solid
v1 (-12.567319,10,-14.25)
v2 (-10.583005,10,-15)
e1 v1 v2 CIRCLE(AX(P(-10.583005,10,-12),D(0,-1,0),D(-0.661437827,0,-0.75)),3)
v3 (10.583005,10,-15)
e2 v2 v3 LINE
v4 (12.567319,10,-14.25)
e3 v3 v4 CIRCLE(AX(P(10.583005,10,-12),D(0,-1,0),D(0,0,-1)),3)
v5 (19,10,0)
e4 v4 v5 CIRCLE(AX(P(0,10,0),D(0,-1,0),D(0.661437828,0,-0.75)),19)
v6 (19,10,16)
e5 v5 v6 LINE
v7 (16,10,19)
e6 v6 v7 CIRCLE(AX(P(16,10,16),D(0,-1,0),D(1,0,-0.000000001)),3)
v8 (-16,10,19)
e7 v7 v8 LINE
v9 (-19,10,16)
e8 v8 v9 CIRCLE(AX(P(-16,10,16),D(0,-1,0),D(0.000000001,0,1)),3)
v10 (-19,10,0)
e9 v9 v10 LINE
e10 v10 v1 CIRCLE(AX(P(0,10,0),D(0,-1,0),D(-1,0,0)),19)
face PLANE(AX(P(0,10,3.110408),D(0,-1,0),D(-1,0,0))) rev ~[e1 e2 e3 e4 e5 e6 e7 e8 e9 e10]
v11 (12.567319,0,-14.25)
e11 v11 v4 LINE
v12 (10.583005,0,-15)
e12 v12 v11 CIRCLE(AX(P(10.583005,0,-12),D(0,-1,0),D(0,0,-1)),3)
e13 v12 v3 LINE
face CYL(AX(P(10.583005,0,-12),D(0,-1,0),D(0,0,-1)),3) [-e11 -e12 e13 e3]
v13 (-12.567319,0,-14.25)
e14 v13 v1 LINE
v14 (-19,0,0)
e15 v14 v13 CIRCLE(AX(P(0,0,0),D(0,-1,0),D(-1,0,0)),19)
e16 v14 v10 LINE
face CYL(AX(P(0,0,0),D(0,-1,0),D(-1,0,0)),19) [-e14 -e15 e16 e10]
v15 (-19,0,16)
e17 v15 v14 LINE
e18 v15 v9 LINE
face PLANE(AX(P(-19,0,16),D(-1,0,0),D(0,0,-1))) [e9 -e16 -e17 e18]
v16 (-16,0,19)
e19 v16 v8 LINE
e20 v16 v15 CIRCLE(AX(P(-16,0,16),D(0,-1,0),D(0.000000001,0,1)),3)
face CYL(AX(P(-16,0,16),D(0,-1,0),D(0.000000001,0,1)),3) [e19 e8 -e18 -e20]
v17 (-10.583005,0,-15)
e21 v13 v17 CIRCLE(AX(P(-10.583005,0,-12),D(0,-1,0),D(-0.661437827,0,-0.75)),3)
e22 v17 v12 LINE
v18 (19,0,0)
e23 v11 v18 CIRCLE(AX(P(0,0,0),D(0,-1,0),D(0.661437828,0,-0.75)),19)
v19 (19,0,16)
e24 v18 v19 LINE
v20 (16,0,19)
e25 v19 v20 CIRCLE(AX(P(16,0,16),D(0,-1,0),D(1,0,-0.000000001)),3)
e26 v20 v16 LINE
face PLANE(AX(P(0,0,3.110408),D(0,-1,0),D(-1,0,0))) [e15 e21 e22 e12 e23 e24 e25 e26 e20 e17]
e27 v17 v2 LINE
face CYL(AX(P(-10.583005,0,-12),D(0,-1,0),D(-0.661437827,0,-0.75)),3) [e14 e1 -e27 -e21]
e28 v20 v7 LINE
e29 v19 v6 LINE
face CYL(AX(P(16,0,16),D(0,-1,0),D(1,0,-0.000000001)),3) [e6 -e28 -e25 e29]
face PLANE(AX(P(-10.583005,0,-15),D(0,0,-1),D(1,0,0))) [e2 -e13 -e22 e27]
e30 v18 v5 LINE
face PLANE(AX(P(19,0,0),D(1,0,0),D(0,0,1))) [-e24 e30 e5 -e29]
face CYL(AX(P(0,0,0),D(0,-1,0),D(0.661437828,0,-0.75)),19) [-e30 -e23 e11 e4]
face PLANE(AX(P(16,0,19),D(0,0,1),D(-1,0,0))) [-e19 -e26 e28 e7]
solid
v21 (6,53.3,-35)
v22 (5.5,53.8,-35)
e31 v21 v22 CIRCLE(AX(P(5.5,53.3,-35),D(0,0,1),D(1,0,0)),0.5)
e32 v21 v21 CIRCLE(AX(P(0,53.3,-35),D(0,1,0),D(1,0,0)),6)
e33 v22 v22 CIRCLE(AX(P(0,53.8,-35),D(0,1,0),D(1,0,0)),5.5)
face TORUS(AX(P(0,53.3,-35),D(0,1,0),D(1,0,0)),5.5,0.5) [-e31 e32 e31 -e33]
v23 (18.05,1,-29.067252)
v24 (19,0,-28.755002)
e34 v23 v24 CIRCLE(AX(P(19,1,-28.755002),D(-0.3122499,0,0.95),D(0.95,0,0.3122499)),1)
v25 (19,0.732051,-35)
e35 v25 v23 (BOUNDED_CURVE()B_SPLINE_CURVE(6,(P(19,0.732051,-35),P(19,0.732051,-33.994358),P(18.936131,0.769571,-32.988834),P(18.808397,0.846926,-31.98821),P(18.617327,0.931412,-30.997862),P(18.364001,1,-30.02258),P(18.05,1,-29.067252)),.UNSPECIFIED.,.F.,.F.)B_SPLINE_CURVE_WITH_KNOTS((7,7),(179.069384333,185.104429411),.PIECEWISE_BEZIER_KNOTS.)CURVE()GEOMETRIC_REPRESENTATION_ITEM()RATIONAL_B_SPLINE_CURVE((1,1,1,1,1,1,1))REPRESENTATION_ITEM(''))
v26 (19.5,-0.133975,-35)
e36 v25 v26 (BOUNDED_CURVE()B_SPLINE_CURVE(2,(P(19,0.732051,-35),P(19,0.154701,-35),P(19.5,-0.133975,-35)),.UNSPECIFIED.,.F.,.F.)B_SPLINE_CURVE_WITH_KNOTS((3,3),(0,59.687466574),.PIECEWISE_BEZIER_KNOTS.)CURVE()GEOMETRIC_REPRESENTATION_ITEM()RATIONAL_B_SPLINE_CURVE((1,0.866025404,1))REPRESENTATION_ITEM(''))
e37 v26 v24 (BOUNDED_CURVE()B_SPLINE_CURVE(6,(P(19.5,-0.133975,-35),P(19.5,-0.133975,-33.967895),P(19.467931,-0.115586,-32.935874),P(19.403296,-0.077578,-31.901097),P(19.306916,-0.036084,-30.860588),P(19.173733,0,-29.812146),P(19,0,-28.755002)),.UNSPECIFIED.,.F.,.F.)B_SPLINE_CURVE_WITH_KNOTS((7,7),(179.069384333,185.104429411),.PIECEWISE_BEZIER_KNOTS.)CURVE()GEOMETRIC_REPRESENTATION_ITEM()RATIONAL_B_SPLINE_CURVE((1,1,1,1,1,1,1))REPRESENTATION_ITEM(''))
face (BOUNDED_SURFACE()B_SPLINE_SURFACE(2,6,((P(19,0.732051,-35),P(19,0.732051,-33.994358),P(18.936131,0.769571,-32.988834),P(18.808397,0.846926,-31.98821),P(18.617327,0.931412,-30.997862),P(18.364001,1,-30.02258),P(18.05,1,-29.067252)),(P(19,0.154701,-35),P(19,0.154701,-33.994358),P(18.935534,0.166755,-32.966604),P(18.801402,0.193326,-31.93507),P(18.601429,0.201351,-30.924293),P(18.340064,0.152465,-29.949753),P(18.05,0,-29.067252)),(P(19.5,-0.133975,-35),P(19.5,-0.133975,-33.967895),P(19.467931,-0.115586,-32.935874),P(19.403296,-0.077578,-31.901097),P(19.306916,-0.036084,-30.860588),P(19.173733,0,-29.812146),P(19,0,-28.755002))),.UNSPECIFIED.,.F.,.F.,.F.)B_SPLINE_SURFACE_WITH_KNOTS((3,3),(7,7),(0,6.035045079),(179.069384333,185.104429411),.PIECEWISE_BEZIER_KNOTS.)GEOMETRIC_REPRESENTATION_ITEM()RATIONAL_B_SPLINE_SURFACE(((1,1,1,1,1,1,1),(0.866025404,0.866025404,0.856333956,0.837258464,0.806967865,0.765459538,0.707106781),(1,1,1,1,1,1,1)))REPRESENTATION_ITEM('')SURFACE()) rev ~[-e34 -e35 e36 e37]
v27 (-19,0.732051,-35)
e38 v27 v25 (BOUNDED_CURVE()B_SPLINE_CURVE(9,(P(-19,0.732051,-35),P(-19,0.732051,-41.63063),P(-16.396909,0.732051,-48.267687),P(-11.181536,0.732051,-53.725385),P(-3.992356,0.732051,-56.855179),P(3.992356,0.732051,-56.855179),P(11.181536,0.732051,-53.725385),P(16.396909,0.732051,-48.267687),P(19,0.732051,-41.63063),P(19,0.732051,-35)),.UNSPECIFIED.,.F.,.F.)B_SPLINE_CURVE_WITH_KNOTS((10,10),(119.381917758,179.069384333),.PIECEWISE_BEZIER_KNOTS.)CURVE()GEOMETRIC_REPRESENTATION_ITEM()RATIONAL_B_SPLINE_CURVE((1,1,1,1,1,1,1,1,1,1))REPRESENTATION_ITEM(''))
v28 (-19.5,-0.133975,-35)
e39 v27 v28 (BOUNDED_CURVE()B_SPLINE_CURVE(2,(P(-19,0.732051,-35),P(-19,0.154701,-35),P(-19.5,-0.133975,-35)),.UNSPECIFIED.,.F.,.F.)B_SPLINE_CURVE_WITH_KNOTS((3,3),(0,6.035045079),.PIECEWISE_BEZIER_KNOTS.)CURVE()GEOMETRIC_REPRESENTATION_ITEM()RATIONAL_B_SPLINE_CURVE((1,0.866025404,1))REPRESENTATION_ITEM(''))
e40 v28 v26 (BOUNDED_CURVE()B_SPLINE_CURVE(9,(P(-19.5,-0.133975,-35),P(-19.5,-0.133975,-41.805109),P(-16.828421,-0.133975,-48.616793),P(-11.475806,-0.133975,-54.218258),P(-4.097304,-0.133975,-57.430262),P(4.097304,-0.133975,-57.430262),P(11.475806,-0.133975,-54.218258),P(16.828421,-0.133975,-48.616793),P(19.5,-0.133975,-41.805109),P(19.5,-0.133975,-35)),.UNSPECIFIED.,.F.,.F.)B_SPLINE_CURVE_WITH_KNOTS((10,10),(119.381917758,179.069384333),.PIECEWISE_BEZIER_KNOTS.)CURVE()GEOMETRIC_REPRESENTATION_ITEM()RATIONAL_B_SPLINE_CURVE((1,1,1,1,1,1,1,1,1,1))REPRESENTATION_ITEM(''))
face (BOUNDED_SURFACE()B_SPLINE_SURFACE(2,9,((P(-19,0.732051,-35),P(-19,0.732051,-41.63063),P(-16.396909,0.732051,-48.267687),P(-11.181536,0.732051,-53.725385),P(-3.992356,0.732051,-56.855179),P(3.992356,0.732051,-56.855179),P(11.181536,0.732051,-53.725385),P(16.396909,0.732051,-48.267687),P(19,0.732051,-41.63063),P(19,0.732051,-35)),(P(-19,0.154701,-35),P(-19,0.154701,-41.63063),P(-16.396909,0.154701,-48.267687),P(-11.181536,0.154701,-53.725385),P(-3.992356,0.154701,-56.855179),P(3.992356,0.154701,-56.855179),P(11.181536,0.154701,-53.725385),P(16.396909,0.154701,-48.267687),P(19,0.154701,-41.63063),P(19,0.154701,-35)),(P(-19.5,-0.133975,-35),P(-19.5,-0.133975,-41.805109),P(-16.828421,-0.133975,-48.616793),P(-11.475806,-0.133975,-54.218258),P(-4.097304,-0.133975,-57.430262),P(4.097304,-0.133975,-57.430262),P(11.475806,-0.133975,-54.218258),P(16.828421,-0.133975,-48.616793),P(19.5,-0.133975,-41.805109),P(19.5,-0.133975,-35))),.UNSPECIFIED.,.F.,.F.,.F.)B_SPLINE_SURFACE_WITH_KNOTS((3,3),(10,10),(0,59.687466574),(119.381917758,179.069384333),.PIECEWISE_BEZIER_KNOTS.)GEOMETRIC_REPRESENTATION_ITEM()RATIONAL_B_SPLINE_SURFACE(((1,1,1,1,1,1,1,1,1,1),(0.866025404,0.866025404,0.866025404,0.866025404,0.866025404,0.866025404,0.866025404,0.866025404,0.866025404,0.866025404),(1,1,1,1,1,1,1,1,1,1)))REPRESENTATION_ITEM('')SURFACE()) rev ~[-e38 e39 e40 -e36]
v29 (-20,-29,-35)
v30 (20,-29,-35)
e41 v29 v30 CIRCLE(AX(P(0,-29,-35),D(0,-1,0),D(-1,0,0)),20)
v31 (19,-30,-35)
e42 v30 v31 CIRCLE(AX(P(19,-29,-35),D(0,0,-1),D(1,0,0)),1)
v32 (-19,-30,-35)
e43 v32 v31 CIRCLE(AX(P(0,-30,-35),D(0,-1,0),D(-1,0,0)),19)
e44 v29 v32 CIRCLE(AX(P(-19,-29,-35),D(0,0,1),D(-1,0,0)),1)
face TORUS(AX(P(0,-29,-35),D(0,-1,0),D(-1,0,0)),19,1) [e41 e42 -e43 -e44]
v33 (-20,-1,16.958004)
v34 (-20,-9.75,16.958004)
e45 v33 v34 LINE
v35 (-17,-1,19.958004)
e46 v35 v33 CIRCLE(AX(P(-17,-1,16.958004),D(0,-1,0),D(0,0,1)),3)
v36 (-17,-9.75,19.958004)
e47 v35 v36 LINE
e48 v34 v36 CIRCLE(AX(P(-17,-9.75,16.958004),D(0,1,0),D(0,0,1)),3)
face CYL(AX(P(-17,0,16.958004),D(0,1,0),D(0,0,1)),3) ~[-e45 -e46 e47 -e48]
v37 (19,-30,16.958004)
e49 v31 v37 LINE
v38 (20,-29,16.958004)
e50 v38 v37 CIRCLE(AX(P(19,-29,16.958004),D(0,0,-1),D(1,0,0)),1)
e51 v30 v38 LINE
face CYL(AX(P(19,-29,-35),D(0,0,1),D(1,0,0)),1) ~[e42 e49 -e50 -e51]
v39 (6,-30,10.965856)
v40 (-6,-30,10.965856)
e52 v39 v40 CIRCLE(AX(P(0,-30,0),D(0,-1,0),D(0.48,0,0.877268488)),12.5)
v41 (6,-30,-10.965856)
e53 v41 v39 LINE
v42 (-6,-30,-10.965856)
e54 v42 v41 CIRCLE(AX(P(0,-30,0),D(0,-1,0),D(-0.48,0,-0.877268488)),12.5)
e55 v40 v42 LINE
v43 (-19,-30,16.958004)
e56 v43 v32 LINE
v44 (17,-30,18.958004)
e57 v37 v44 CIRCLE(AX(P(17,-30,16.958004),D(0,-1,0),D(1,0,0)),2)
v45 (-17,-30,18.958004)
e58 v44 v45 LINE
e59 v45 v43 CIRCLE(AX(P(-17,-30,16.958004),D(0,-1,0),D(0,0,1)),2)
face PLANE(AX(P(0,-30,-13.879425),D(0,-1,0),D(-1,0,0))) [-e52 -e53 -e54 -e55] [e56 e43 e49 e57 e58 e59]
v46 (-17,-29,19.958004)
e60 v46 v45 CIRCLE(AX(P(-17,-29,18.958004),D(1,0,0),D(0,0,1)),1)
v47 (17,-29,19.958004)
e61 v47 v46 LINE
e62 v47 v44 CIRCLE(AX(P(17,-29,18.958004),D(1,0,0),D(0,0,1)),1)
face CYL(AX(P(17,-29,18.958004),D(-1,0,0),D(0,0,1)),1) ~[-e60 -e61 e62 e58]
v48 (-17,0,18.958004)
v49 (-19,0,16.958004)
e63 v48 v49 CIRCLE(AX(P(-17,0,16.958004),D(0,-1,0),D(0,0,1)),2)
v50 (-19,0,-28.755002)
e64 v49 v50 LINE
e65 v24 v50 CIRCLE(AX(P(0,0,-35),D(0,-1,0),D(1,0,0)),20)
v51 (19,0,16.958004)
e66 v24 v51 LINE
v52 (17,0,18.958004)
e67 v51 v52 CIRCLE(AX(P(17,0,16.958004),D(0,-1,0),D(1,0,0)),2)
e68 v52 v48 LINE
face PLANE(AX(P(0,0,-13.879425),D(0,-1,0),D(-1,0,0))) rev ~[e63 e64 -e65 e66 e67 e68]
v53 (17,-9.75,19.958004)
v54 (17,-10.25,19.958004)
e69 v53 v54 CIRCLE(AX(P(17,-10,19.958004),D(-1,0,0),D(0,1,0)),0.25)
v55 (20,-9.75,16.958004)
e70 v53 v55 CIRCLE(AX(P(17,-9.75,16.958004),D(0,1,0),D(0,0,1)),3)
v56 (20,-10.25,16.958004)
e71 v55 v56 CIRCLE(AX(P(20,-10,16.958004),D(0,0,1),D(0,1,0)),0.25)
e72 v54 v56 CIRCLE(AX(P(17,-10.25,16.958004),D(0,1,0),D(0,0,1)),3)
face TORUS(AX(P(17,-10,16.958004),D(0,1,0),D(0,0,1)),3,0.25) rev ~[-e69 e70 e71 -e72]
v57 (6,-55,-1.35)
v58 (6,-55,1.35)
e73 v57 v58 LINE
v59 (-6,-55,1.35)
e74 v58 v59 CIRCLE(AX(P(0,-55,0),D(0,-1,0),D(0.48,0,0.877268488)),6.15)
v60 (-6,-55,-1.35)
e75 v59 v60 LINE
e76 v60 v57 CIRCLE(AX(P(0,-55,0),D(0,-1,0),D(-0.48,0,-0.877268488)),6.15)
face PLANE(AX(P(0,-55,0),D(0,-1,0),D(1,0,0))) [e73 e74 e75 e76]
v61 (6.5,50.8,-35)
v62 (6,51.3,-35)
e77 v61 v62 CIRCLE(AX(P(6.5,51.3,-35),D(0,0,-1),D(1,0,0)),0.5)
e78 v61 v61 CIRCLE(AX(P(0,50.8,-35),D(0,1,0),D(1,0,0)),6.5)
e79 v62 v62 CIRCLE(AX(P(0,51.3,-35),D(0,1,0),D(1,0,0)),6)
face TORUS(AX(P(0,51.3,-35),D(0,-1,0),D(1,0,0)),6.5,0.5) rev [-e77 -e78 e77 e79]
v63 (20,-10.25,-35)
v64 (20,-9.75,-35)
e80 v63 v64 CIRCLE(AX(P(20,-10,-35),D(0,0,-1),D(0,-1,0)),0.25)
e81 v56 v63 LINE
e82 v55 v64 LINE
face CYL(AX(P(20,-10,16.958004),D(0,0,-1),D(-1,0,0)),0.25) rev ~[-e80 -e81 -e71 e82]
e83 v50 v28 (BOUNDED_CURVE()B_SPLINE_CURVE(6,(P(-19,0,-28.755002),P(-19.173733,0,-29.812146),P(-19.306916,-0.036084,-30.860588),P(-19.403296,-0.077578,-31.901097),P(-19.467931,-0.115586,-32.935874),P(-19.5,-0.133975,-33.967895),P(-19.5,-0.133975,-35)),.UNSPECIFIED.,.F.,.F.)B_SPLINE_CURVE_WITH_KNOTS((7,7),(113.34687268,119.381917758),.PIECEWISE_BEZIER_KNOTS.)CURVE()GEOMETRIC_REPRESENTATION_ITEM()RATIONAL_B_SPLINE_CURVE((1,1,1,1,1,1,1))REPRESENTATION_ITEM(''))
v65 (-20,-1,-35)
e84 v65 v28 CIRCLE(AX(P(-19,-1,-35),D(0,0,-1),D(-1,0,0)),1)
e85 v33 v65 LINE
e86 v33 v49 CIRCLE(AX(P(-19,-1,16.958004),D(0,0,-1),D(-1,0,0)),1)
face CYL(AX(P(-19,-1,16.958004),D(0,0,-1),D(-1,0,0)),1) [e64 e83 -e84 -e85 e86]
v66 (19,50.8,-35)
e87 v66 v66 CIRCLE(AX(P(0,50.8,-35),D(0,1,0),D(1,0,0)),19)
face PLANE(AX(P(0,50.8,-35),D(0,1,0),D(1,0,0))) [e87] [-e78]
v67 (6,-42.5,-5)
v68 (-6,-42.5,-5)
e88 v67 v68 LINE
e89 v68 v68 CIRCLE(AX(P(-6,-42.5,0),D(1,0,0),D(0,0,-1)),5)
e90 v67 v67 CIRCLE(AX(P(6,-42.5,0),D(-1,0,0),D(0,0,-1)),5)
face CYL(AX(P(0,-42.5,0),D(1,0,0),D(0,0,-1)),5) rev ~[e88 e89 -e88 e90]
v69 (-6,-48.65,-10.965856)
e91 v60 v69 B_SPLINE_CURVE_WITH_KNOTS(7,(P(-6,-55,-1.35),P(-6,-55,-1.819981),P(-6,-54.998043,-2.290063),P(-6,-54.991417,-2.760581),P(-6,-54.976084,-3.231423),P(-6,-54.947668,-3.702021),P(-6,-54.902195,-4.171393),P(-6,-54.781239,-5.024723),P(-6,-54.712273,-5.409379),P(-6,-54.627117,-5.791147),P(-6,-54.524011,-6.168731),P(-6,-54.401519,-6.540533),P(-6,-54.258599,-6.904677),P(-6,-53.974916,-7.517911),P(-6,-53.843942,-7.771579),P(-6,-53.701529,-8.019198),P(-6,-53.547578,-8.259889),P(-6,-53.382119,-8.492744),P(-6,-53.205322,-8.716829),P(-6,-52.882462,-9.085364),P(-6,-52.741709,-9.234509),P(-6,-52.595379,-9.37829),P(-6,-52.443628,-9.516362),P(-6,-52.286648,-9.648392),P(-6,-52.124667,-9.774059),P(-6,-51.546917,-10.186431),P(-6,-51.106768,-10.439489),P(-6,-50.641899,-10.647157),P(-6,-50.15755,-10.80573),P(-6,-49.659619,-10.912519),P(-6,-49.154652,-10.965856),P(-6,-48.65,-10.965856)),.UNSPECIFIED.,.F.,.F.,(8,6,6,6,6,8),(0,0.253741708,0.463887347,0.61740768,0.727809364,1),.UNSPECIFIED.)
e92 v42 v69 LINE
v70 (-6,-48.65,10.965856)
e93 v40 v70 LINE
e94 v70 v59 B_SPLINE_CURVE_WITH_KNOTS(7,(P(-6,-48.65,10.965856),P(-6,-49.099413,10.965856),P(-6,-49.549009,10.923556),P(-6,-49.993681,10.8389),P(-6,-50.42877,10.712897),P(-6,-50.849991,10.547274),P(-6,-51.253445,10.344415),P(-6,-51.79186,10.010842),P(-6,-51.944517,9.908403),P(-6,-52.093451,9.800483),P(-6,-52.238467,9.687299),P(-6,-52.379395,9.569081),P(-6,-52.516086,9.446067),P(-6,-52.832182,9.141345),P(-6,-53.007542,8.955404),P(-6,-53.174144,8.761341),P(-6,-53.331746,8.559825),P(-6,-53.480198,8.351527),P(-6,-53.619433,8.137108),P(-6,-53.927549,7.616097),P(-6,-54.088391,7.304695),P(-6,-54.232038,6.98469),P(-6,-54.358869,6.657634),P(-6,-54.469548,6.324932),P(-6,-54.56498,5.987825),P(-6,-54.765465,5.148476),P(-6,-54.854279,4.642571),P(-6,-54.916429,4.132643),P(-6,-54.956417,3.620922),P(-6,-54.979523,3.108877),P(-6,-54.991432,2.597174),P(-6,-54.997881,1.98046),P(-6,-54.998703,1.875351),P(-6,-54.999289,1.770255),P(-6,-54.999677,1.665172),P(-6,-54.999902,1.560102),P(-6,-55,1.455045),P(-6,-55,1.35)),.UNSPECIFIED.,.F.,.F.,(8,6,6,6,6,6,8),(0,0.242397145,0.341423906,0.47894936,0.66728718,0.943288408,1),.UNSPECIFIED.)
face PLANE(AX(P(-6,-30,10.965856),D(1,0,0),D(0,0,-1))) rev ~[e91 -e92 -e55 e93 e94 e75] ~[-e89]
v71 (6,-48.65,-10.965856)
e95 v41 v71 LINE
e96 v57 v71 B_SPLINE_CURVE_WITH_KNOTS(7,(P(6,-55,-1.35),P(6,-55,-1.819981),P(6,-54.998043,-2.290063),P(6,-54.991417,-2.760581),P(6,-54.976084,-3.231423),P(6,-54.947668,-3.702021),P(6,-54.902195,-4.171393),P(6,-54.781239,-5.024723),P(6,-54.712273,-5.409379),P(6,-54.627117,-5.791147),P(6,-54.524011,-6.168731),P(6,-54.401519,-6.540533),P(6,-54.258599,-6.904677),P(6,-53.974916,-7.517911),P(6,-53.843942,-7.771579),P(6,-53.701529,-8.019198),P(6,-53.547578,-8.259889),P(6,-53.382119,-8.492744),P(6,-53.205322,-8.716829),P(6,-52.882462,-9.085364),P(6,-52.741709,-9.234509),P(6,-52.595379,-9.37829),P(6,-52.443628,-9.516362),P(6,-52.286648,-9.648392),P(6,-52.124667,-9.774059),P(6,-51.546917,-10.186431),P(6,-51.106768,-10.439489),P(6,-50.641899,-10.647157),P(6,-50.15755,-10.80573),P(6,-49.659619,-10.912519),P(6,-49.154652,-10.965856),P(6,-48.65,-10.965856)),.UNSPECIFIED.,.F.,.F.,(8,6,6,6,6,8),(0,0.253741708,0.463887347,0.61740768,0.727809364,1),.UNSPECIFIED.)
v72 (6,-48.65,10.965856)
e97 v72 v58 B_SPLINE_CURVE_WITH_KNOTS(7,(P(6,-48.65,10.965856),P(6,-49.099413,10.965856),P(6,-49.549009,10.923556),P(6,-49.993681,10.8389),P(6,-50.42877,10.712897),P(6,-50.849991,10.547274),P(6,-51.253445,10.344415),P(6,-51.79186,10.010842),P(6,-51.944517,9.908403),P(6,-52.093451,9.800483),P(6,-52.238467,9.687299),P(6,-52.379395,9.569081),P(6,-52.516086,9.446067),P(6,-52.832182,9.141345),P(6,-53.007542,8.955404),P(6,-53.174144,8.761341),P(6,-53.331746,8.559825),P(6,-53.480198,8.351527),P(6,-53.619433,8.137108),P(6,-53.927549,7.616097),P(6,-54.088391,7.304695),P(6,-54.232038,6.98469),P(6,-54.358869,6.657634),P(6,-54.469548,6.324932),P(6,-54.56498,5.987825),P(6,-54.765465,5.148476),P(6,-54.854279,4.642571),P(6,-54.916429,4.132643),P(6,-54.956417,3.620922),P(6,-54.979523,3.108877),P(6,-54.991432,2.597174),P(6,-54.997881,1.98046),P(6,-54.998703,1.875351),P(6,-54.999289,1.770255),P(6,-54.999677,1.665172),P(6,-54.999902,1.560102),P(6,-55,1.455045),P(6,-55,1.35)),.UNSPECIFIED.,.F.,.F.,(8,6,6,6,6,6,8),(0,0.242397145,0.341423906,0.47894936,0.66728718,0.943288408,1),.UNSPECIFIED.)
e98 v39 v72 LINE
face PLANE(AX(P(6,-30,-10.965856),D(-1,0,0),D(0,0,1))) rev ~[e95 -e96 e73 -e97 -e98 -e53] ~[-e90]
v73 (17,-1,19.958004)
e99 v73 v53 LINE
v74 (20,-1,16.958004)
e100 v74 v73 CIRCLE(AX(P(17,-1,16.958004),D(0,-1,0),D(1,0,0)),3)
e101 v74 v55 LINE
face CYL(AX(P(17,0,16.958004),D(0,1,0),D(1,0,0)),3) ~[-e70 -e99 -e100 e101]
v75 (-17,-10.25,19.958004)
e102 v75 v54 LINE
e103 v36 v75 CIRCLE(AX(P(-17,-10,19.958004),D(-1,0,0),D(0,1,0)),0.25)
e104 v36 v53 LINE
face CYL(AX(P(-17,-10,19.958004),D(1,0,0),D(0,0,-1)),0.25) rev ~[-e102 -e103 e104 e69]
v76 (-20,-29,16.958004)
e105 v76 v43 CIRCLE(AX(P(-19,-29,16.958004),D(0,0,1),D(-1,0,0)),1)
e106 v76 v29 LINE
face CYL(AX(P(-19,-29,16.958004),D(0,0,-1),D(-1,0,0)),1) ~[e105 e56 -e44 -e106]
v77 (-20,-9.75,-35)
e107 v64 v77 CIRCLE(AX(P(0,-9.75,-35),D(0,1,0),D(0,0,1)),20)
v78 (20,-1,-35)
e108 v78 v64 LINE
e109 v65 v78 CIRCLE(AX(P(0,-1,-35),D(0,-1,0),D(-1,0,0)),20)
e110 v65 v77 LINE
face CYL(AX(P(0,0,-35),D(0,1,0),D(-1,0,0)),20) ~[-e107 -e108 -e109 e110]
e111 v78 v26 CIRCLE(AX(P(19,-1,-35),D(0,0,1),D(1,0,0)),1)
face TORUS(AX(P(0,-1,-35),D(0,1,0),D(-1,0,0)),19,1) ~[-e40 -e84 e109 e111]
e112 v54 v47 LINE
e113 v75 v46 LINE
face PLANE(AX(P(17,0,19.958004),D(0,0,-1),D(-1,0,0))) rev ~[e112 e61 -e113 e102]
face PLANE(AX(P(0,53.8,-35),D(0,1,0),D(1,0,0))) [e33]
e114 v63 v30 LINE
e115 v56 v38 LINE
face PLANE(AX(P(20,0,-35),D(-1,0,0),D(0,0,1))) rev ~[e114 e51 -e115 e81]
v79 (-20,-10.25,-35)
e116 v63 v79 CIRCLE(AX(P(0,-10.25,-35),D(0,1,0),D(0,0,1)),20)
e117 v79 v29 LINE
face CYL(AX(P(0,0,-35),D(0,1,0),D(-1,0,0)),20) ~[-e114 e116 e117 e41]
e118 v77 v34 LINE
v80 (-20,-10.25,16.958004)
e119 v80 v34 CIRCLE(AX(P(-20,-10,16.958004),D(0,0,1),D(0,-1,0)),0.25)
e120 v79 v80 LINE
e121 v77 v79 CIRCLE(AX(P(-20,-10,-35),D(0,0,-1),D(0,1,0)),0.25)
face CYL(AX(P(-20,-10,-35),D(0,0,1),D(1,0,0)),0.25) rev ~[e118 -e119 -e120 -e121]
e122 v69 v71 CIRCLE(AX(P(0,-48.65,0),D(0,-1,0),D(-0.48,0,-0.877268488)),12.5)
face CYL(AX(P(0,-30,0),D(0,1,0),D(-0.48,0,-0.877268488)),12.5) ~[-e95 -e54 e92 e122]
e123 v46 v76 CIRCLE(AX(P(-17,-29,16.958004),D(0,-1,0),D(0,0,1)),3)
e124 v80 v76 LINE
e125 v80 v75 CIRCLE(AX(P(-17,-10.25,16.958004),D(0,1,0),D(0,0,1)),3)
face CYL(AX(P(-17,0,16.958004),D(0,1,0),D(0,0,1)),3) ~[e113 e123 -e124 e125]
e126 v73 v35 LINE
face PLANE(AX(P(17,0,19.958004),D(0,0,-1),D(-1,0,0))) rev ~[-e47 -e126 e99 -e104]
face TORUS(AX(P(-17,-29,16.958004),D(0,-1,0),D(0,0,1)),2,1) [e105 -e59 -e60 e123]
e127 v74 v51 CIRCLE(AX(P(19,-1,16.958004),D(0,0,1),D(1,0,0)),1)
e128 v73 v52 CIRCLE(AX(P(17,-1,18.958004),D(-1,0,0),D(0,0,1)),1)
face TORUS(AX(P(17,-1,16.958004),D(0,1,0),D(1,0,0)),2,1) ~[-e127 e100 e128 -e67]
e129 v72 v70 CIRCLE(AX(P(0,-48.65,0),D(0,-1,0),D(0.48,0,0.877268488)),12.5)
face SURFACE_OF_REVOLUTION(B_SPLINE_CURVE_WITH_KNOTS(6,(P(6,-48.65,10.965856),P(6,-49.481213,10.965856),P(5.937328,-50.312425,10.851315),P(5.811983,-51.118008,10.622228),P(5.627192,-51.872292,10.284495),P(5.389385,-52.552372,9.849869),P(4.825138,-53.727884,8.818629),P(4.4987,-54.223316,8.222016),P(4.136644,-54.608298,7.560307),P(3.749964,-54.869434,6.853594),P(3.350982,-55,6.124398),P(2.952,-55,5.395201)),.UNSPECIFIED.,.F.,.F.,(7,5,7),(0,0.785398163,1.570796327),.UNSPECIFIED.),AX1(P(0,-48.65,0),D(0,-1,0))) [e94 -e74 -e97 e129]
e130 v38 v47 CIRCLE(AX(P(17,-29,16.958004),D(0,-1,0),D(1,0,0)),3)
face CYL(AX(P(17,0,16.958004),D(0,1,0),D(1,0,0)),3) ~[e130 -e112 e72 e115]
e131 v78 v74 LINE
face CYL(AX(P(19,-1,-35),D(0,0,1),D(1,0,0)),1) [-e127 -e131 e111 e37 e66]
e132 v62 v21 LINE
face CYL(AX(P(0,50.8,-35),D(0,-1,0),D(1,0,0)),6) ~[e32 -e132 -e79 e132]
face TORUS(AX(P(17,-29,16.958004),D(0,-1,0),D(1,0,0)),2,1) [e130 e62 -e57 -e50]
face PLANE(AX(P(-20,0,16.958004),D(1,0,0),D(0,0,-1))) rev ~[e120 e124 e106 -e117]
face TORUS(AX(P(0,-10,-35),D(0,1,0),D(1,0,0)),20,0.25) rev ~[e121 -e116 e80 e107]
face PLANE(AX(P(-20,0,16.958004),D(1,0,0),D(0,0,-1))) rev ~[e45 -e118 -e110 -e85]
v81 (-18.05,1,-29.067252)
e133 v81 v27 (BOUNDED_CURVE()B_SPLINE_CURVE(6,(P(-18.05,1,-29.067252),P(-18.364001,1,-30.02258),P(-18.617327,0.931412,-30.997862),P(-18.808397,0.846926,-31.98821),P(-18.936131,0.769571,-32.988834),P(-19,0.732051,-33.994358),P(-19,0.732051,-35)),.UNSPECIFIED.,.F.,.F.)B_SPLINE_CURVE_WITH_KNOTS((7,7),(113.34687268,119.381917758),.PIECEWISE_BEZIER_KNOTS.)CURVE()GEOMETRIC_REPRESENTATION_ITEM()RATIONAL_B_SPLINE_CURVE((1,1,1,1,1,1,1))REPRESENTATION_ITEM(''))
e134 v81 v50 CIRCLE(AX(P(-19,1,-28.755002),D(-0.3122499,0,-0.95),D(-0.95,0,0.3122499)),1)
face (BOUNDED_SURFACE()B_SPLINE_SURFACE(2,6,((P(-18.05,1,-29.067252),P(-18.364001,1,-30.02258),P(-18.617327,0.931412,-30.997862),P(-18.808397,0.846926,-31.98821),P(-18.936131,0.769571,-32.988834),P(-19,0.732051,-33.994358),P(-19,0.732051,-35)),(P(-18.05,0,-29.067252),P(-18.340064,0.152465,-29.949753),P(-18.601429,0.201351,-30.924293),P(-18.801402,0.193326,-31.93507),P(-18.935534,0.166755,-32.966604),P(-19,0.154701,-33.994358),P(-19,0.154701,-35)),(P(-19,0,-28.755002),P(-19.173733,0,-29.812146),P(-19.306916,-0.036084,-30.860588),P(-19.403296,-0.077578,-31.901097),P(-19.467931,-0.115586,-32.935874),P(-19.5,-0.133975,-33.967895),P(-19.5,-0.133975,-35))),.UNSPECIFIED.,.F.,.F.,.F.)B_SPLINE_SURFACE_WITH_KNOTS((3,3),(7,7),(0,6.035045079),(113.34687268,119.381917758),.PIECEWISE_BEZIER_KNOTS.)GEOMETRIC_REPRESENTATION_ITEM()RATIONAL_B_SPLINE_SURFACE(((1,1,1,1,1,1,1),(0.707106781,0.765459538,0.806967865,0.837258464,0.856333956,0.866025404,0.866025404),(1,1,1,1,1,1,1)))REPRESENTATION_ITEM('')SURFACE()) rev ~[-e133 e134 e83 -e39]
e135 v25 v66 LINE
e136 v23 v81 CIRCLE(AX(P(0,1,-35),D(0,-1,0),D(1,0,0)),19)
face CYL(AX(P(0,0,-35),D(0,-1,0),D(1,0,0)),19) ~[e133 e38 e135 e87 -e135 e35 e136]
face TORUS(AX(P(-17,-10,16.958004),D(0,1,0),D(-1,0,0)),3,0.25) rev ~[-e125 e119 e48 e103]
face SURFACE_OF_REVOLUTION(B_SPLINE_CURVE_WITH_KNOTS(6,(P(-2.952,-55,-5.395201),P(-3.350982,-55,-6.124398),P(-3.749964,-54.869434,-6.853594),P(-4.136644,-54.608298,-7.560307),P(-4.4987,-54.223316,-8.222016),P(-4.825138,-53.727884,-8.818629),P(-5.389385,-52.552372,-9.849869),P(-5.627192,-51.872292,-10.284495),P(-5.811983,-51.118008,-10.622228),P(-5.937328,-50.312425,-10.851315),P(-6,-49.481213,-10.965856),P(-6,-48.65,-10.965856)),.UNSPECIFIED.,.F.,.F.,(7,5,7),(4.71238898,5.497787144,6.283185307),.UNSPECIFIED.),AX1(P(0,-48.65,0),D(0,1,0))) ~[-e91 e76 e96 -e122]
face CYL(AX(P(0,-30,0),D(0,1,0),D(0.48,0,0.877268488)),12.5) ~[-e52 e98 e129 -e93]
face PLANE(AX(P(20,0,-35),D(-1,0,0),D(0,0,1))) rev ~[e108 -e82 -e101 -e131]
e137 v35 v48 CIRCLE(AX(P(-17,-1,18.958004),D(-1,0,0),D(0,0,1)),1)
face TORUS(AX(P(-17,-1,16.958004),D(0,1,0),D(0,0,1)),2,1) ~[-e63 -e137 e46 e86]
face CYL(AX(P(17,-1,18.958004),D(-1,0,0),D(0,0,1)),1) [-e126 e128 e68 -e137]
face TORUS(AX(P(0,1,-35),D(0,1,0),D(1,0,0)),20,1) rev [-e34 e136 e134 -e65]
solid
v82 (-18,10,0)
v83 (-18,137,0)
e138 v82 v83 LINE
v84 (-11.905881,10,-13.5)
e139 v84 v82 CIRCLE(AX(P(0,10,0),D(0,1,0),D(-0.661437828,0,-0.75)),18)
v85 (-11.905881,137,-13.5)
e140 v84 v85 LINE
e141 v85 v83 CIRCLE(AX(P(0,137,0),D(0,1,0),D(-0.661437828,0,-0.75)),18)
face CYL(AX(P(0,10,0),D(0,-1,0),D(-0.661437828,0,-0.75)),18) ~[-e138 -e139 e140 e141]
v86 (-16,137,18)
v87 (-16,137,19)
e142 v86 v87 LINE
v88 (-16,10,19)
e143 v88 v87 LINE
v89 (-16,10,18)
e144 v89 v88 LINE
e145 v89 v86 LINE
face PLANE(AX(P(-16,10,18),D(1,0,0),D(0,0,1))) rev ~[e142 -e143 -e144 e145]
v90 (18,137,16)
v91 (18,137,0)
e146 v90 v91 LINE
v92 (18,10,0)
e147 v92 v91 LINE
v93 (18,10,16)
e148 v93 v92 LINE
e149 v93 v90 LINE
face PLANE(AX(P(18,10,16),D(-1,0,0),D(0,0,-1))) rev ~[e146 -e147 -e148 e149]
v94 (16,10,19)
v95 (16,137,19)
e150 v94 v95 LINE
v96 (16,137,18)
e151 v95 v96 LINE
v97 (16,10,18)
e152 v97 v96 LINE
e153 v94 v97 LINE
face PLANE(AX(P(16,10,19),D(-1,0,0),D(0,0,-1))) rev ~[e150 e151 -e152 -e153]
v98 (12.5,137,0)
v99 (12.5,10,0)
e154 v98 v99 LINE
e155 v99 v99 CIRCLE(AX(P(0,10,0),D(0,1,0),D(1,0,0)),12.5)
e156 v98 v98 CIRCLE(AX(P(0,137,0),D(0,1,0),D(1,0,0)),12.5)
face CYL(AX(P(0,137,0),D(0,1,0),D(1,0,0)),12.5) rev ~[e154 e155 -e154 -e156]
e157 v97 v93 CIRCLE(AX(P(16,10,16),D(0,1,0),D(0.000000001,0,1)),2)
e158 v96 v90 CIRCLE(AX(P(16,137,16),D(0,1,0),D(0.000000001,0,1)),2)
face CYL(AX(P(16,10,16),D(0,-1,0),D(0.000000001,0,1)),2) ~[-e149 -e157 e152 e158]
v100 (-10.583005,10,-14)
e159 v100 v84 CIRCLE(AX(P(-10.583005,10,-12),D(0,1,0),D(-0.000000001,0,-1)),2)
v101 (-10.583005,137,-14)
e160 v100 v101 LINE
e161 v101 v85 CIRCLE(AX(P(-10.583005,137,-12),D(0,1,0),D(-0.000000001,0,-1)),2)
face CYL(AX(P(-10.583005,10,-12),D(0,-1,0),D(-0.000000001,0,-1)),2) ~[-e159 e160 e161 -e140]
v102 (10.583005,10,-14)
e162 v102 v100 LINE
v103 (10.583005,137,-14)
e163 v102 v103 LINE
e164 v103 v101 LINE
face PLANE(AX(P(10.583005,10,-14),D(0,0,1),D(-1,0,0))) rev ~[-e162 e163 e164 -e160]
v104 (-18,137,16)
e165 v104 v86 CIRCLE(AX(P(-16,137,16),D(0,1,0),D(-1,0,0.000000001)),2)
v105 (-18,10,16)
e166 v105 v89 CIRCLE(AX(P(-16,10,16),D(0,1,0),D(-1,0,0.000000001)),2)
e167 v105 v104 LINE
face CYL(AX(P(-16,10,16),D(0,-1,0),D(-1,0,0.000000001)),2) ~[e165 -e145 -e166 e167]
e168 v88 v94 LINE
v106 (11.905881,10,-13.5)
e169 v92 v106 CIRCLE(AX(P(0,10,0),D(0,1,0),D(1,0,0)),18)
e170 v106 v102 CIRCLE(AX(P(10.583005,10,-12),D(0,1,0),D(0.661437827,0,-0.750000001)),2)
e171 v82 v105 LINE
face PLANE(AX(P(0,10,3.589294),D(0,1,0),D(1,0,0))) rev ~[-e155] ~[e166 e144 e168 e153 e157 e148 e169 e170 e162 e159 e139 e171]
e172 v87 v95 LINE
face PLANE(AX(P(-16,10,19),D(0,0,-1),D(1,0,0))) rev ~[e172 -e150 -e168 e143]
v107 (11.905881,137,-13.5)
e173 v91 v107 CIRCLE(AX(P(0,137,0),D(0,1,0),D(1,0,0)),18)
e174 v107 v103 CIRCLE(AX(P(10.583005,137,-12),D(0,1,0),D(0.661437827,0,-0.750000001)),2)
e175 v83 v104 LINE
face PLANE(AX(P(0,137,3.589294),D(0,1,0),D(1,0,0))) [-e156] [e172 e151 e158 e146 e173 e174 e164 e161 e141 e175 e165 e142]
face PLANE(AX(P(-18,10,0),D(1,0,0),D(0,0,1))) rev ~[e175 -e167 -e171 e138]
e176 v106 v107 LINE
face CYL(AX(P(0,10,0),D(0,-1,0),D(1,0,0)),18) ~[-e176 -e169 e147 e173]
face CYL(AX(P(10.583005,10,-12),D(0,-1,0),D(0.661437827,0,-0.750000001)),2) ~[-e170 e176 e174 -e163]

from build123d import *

# Parameters (mm, degrees)
BOSS_EXTRUDE1_DEPTH     = 30
FILLET1_R               = 1
SKETCH1_4_R             = 19
BOSS_EXTRUDE2_DEPTH     = 50.8
BOSS_EXTRUDE3_DEPTH     = 10
BOSS_EXTRUDE4_DEPTH     = 127
SKETCH3_R               = 6
BOSS_EXTRUDE5_DEPTH     = 3
FILLET2_R               = 1
FILLET3_R               = 0.5
SKETCH5_R               = 12.5
CUT_EXTRUDE4_DEPTH      = 500
BOSS_EXTRUDE7_DEPTH     = 25
SKETCH8_R               = 5
CUT_EXTRUDE5_DEPTH      = 21.0000001
CUT_EXTRUDE5_DEPTH_BACK = 21.0000001
CUT_SWEEP1_PROFILE_R    = 0.25
FILLET4_R               = 6.35


with BuildPart() as part:
    # Sketch1 → Boss-Extrude1 (new body)
    with BuildSketch(Plane(origin=(0, 0, 0), x_dir=(1, 0, 0), z_dir=(0, 1, 0))):
        with BuildLine():
            Line((-20, -16.958004219), (-20, 35))
            ThreePointArc((-20, 35), (0, 55), (20, 35))
            Line((20, 35), (20, -16.958004219))
            ThreePointArc((20, -16.958004219), (19.121320344, -19.079324562), (17, -19.958004219))
            Line((17, -19.958004219), (-17, -19.958004219))
            ThreePointArc((-17, -19.958004219), (-19.121320344, -19.079324562), (-20, -16.958004219))
        make_face()
    extrude(amount=-BOSS_EXTRUDE1_DEPTH)

    # Fillet1
    fillet1_edges = [part.edges().sort_by_distance(p)[0] for p in [
        (0, -30, 19.958004219),
        (-19.121320344, 0, 19.079324562),
        (19.121320344, -30, 19.079324562),
        (20, -30, -9.020997891),
        (0, -30, -55),
        (-20, -30, -9.020997891),
        (-19.121320344, -30, 19.079324562),
        (-20, 0, -9.020997891),
        (0, 0, -55),
        (20, 0, -9.020997891),
        (19.121320344, 0, 19.079324562),
        (0, 0, 19.958004219),
    ]]
    fillet(fillet1_edges, radius=FILLET1_R)

    # Sketch1<4> → Boss-Extrude2 (add)
    with BuildSketch(Plane(origin=(0, 0, 0), x_dir=(1, 0, 0), z_dir=(0, 1, 0))):
        with Locations((0, 35)):
            Circle(SKETCH1_4_R)
    extrude(amount=BOSS_EXTRUDE2_DEPTH)

    # Sketch3 → Boss-Extrude5 (add)
    with BuildSketch(Plane(origin=(0, 50.8, 0), x_dir=(1, 0, 0), z_dir=(0, 1, 0))):
        with Locations((0, 35)):
            Circle(SKETCH3_R)
    extrude(amount=BOSS_EXTRUDE5_DEPTH)

    # Fillet2
    fillet2_edges = [part.edges().sort_by_distance(p)[0] for p in [
        (0, 0, -54),
        (0, 0, -16),
    ]]
    fillet(fillet2_edges, radius=FILLET2_R)

    # Fillet3
    fillet3_edges = [part.edges().sort_by_distance(p)[0] for p in [
        (-6, 50.8, -35),
        (-6, 53.8, -35),
    ]]
    fillet(fillet3_edges, radius=FILLET3_R)

    # Sketch6 → Boss-Extrude7 (add)
    with BuildSketch(Plane.XZ.offset(30)):
        with BuildLine():
            Line((-6, 10.9658561), (-6, -10.9658561))
            ThreePointArc((-6, -10.9658561), (0, -12.5), (6, -10.9658561))
            Line((6, -10.9658561), (6, 10.9658561))
            ThreePointArc((6, 10.9658561), (0, 12.5), (-6, 10.9658561))
        make_face()
    extrude(amount=BOSS_EXTRUDE7_DEPTH)

    # Sketch8 → Cut-Extrude5 (cut, two sides)
    with BuildSketch(Plane(origin=(0, 0, 0), x_dir=(0, 0, -1), z_dir=(1, 0, 0))) as cut_extrude5_sk:
        with Locations((0, -42.5)):
            Circle(SKETCH8_R)
    extrude(amount=CUT_EXTRUDE5_DEPTH, mode=Mode.SUBTRACT)
    extrude(cut_extrude5_sk.sketch, amount=-CUT_EXTRUDE5_DEPTH_BACK, mode=Mode.SUBTRACT)

    # Cut-Sweep1: sweep along a path in Sketch9
    with BuildLine(Plane(origin=(0, -10, 0), x_dir=(-1, 0, 0), z_dir=(0, -1, 0))) as cut_sweep1_path:
        Line((-20, -16.958004219), (-20, 35))
        ThreePointArc((-20, 35), (0, 55), (20, 35))
        Line((20, 35), (20, -16.958004219))
        ThreePointArc((20, -16.958004219), (19.121320344, -19.079324562), (17, -19.958004219))
        Line((17, -19.958004219), (-17, -19.958004219))
        ThreePointArc((-17, -19.958004219), (-19.121320344, -19.079324562), (-20, -16.958004219))
    # Cut-Sweep1 profile (on start of the path) → Cut-Sweep1 (sweep, cut)
    with BuildSketch(Plane(origin=(20, -10, 16.958004219), x_dir=(-1, 0, 0), z_dir=(0, 0, -1))):
        Circle(CUT_SWEEP1_PROFILE_R)
    sweep(path=cut_sweep1_path.line, mode=Mode.SUBTRACT)

    # Fillet4
    fillet4_edges = [part.edges().sort_by_distance(p)[0] for p in [
        (0, -55, -12.5),
        (0, -55, 12.5),
    ]]
    fillet(fillet4_edges, radius=FILLET4_R)


with BuildPart() as body_2:
    # Sketch1<5> → Boss-Extrude3 (new body)
    with BuildSketch(Plane(origin=(0, 0, 0), x_dir=(1, 0, 0), z_dir=(0, 1, 0))):
        with BuildLine():
            Line((-10.583005244, 15), (10.583005244, 15))
            ThreePointArc((10.583005244, 15), (11.643665416, 14.80624304), (12.567318728, 14.25))
            ThreePointArc((12.567318728, 14.25), (17.317318728, 7.817318728), (19, 0))
            Line((19, 0), (19, -16))
            ThreePointArc((19, -16), (18.121320344, -18.121320344), (16, -19))
            Line((16, -19), (-16, -19))
            ThreePointArc((-16, -19), (-18.121320344, -18.121320344), (-19, -16))
            Line((-19, -16), (-19, 0))
            ThreePointArc((-19, 0), (-17.317318728, 7.817318728), (-12.567318728, 14.25))
            ThreePointArc((-12.567318728, 14.25), (-11.643665416, 14.80624304), (-10.583005244, 15))
        make_face()
    extrude(amount=BOSS_EXTRUDE3_DEPTH)


with BuildPart() as body_3:
    # Sketch2 → Boss-Extrude4 (new body)
    with BuildSketch(Plane(origin=(0, 10, 0), x_dir=(1, 0, 0), z_dir=(0, 1, 0))):
        with BuildLine():
            Line((-18, 0), (-18, -16))
            ThreePointArc((-18, -16), (-17.414213562, -17.414213562), (-16, -18))
            Line((-16, -18), (-16, -19))
            Line((-16, -19), (16, -19))
            Line((16, -19), (16, -18))
            ThreePointArc((16, -18), (17.414213562, -17.414213562), (18, -16))
            Line((18, -16), (18, 0))
            ThreePointArc((18, 0), (16.4058809, 7.4058809), (11.9058809, 13.5))
            ThreePointArc((11.9058809, 13.5), (11.290112025, 13.870828693), (10.583005244, 14))
            Line((10.583005244, 14), (-10.583005244, 14))
            ThreePointArc((-10.583005244, 14), (-11.290112025, 13.870828693), (-11.9058809, 13.5))
            ThreePointArc((-11.9058809, 13.5), (-16.4058809, 7.4058809), (-18, 0))
        make_face()
    extrude(amount=BOSS_EXTRUDE4_DEPTH)

    # Sketch5 → Cut-Extrude4 (cut)
    with BuildSketch(Plane(origin=(0, 137, 0), x_dir=(1, 0, 0), z_dir=(0, 1, 0))):
        Circle(SKETCH5_R)
    extrude(amount=-CUT_EXTRUDE4_DEPTH, mode=Mode.SUBTRACT)


solid = Compound([part.part, body_2.part, body_3.part])
